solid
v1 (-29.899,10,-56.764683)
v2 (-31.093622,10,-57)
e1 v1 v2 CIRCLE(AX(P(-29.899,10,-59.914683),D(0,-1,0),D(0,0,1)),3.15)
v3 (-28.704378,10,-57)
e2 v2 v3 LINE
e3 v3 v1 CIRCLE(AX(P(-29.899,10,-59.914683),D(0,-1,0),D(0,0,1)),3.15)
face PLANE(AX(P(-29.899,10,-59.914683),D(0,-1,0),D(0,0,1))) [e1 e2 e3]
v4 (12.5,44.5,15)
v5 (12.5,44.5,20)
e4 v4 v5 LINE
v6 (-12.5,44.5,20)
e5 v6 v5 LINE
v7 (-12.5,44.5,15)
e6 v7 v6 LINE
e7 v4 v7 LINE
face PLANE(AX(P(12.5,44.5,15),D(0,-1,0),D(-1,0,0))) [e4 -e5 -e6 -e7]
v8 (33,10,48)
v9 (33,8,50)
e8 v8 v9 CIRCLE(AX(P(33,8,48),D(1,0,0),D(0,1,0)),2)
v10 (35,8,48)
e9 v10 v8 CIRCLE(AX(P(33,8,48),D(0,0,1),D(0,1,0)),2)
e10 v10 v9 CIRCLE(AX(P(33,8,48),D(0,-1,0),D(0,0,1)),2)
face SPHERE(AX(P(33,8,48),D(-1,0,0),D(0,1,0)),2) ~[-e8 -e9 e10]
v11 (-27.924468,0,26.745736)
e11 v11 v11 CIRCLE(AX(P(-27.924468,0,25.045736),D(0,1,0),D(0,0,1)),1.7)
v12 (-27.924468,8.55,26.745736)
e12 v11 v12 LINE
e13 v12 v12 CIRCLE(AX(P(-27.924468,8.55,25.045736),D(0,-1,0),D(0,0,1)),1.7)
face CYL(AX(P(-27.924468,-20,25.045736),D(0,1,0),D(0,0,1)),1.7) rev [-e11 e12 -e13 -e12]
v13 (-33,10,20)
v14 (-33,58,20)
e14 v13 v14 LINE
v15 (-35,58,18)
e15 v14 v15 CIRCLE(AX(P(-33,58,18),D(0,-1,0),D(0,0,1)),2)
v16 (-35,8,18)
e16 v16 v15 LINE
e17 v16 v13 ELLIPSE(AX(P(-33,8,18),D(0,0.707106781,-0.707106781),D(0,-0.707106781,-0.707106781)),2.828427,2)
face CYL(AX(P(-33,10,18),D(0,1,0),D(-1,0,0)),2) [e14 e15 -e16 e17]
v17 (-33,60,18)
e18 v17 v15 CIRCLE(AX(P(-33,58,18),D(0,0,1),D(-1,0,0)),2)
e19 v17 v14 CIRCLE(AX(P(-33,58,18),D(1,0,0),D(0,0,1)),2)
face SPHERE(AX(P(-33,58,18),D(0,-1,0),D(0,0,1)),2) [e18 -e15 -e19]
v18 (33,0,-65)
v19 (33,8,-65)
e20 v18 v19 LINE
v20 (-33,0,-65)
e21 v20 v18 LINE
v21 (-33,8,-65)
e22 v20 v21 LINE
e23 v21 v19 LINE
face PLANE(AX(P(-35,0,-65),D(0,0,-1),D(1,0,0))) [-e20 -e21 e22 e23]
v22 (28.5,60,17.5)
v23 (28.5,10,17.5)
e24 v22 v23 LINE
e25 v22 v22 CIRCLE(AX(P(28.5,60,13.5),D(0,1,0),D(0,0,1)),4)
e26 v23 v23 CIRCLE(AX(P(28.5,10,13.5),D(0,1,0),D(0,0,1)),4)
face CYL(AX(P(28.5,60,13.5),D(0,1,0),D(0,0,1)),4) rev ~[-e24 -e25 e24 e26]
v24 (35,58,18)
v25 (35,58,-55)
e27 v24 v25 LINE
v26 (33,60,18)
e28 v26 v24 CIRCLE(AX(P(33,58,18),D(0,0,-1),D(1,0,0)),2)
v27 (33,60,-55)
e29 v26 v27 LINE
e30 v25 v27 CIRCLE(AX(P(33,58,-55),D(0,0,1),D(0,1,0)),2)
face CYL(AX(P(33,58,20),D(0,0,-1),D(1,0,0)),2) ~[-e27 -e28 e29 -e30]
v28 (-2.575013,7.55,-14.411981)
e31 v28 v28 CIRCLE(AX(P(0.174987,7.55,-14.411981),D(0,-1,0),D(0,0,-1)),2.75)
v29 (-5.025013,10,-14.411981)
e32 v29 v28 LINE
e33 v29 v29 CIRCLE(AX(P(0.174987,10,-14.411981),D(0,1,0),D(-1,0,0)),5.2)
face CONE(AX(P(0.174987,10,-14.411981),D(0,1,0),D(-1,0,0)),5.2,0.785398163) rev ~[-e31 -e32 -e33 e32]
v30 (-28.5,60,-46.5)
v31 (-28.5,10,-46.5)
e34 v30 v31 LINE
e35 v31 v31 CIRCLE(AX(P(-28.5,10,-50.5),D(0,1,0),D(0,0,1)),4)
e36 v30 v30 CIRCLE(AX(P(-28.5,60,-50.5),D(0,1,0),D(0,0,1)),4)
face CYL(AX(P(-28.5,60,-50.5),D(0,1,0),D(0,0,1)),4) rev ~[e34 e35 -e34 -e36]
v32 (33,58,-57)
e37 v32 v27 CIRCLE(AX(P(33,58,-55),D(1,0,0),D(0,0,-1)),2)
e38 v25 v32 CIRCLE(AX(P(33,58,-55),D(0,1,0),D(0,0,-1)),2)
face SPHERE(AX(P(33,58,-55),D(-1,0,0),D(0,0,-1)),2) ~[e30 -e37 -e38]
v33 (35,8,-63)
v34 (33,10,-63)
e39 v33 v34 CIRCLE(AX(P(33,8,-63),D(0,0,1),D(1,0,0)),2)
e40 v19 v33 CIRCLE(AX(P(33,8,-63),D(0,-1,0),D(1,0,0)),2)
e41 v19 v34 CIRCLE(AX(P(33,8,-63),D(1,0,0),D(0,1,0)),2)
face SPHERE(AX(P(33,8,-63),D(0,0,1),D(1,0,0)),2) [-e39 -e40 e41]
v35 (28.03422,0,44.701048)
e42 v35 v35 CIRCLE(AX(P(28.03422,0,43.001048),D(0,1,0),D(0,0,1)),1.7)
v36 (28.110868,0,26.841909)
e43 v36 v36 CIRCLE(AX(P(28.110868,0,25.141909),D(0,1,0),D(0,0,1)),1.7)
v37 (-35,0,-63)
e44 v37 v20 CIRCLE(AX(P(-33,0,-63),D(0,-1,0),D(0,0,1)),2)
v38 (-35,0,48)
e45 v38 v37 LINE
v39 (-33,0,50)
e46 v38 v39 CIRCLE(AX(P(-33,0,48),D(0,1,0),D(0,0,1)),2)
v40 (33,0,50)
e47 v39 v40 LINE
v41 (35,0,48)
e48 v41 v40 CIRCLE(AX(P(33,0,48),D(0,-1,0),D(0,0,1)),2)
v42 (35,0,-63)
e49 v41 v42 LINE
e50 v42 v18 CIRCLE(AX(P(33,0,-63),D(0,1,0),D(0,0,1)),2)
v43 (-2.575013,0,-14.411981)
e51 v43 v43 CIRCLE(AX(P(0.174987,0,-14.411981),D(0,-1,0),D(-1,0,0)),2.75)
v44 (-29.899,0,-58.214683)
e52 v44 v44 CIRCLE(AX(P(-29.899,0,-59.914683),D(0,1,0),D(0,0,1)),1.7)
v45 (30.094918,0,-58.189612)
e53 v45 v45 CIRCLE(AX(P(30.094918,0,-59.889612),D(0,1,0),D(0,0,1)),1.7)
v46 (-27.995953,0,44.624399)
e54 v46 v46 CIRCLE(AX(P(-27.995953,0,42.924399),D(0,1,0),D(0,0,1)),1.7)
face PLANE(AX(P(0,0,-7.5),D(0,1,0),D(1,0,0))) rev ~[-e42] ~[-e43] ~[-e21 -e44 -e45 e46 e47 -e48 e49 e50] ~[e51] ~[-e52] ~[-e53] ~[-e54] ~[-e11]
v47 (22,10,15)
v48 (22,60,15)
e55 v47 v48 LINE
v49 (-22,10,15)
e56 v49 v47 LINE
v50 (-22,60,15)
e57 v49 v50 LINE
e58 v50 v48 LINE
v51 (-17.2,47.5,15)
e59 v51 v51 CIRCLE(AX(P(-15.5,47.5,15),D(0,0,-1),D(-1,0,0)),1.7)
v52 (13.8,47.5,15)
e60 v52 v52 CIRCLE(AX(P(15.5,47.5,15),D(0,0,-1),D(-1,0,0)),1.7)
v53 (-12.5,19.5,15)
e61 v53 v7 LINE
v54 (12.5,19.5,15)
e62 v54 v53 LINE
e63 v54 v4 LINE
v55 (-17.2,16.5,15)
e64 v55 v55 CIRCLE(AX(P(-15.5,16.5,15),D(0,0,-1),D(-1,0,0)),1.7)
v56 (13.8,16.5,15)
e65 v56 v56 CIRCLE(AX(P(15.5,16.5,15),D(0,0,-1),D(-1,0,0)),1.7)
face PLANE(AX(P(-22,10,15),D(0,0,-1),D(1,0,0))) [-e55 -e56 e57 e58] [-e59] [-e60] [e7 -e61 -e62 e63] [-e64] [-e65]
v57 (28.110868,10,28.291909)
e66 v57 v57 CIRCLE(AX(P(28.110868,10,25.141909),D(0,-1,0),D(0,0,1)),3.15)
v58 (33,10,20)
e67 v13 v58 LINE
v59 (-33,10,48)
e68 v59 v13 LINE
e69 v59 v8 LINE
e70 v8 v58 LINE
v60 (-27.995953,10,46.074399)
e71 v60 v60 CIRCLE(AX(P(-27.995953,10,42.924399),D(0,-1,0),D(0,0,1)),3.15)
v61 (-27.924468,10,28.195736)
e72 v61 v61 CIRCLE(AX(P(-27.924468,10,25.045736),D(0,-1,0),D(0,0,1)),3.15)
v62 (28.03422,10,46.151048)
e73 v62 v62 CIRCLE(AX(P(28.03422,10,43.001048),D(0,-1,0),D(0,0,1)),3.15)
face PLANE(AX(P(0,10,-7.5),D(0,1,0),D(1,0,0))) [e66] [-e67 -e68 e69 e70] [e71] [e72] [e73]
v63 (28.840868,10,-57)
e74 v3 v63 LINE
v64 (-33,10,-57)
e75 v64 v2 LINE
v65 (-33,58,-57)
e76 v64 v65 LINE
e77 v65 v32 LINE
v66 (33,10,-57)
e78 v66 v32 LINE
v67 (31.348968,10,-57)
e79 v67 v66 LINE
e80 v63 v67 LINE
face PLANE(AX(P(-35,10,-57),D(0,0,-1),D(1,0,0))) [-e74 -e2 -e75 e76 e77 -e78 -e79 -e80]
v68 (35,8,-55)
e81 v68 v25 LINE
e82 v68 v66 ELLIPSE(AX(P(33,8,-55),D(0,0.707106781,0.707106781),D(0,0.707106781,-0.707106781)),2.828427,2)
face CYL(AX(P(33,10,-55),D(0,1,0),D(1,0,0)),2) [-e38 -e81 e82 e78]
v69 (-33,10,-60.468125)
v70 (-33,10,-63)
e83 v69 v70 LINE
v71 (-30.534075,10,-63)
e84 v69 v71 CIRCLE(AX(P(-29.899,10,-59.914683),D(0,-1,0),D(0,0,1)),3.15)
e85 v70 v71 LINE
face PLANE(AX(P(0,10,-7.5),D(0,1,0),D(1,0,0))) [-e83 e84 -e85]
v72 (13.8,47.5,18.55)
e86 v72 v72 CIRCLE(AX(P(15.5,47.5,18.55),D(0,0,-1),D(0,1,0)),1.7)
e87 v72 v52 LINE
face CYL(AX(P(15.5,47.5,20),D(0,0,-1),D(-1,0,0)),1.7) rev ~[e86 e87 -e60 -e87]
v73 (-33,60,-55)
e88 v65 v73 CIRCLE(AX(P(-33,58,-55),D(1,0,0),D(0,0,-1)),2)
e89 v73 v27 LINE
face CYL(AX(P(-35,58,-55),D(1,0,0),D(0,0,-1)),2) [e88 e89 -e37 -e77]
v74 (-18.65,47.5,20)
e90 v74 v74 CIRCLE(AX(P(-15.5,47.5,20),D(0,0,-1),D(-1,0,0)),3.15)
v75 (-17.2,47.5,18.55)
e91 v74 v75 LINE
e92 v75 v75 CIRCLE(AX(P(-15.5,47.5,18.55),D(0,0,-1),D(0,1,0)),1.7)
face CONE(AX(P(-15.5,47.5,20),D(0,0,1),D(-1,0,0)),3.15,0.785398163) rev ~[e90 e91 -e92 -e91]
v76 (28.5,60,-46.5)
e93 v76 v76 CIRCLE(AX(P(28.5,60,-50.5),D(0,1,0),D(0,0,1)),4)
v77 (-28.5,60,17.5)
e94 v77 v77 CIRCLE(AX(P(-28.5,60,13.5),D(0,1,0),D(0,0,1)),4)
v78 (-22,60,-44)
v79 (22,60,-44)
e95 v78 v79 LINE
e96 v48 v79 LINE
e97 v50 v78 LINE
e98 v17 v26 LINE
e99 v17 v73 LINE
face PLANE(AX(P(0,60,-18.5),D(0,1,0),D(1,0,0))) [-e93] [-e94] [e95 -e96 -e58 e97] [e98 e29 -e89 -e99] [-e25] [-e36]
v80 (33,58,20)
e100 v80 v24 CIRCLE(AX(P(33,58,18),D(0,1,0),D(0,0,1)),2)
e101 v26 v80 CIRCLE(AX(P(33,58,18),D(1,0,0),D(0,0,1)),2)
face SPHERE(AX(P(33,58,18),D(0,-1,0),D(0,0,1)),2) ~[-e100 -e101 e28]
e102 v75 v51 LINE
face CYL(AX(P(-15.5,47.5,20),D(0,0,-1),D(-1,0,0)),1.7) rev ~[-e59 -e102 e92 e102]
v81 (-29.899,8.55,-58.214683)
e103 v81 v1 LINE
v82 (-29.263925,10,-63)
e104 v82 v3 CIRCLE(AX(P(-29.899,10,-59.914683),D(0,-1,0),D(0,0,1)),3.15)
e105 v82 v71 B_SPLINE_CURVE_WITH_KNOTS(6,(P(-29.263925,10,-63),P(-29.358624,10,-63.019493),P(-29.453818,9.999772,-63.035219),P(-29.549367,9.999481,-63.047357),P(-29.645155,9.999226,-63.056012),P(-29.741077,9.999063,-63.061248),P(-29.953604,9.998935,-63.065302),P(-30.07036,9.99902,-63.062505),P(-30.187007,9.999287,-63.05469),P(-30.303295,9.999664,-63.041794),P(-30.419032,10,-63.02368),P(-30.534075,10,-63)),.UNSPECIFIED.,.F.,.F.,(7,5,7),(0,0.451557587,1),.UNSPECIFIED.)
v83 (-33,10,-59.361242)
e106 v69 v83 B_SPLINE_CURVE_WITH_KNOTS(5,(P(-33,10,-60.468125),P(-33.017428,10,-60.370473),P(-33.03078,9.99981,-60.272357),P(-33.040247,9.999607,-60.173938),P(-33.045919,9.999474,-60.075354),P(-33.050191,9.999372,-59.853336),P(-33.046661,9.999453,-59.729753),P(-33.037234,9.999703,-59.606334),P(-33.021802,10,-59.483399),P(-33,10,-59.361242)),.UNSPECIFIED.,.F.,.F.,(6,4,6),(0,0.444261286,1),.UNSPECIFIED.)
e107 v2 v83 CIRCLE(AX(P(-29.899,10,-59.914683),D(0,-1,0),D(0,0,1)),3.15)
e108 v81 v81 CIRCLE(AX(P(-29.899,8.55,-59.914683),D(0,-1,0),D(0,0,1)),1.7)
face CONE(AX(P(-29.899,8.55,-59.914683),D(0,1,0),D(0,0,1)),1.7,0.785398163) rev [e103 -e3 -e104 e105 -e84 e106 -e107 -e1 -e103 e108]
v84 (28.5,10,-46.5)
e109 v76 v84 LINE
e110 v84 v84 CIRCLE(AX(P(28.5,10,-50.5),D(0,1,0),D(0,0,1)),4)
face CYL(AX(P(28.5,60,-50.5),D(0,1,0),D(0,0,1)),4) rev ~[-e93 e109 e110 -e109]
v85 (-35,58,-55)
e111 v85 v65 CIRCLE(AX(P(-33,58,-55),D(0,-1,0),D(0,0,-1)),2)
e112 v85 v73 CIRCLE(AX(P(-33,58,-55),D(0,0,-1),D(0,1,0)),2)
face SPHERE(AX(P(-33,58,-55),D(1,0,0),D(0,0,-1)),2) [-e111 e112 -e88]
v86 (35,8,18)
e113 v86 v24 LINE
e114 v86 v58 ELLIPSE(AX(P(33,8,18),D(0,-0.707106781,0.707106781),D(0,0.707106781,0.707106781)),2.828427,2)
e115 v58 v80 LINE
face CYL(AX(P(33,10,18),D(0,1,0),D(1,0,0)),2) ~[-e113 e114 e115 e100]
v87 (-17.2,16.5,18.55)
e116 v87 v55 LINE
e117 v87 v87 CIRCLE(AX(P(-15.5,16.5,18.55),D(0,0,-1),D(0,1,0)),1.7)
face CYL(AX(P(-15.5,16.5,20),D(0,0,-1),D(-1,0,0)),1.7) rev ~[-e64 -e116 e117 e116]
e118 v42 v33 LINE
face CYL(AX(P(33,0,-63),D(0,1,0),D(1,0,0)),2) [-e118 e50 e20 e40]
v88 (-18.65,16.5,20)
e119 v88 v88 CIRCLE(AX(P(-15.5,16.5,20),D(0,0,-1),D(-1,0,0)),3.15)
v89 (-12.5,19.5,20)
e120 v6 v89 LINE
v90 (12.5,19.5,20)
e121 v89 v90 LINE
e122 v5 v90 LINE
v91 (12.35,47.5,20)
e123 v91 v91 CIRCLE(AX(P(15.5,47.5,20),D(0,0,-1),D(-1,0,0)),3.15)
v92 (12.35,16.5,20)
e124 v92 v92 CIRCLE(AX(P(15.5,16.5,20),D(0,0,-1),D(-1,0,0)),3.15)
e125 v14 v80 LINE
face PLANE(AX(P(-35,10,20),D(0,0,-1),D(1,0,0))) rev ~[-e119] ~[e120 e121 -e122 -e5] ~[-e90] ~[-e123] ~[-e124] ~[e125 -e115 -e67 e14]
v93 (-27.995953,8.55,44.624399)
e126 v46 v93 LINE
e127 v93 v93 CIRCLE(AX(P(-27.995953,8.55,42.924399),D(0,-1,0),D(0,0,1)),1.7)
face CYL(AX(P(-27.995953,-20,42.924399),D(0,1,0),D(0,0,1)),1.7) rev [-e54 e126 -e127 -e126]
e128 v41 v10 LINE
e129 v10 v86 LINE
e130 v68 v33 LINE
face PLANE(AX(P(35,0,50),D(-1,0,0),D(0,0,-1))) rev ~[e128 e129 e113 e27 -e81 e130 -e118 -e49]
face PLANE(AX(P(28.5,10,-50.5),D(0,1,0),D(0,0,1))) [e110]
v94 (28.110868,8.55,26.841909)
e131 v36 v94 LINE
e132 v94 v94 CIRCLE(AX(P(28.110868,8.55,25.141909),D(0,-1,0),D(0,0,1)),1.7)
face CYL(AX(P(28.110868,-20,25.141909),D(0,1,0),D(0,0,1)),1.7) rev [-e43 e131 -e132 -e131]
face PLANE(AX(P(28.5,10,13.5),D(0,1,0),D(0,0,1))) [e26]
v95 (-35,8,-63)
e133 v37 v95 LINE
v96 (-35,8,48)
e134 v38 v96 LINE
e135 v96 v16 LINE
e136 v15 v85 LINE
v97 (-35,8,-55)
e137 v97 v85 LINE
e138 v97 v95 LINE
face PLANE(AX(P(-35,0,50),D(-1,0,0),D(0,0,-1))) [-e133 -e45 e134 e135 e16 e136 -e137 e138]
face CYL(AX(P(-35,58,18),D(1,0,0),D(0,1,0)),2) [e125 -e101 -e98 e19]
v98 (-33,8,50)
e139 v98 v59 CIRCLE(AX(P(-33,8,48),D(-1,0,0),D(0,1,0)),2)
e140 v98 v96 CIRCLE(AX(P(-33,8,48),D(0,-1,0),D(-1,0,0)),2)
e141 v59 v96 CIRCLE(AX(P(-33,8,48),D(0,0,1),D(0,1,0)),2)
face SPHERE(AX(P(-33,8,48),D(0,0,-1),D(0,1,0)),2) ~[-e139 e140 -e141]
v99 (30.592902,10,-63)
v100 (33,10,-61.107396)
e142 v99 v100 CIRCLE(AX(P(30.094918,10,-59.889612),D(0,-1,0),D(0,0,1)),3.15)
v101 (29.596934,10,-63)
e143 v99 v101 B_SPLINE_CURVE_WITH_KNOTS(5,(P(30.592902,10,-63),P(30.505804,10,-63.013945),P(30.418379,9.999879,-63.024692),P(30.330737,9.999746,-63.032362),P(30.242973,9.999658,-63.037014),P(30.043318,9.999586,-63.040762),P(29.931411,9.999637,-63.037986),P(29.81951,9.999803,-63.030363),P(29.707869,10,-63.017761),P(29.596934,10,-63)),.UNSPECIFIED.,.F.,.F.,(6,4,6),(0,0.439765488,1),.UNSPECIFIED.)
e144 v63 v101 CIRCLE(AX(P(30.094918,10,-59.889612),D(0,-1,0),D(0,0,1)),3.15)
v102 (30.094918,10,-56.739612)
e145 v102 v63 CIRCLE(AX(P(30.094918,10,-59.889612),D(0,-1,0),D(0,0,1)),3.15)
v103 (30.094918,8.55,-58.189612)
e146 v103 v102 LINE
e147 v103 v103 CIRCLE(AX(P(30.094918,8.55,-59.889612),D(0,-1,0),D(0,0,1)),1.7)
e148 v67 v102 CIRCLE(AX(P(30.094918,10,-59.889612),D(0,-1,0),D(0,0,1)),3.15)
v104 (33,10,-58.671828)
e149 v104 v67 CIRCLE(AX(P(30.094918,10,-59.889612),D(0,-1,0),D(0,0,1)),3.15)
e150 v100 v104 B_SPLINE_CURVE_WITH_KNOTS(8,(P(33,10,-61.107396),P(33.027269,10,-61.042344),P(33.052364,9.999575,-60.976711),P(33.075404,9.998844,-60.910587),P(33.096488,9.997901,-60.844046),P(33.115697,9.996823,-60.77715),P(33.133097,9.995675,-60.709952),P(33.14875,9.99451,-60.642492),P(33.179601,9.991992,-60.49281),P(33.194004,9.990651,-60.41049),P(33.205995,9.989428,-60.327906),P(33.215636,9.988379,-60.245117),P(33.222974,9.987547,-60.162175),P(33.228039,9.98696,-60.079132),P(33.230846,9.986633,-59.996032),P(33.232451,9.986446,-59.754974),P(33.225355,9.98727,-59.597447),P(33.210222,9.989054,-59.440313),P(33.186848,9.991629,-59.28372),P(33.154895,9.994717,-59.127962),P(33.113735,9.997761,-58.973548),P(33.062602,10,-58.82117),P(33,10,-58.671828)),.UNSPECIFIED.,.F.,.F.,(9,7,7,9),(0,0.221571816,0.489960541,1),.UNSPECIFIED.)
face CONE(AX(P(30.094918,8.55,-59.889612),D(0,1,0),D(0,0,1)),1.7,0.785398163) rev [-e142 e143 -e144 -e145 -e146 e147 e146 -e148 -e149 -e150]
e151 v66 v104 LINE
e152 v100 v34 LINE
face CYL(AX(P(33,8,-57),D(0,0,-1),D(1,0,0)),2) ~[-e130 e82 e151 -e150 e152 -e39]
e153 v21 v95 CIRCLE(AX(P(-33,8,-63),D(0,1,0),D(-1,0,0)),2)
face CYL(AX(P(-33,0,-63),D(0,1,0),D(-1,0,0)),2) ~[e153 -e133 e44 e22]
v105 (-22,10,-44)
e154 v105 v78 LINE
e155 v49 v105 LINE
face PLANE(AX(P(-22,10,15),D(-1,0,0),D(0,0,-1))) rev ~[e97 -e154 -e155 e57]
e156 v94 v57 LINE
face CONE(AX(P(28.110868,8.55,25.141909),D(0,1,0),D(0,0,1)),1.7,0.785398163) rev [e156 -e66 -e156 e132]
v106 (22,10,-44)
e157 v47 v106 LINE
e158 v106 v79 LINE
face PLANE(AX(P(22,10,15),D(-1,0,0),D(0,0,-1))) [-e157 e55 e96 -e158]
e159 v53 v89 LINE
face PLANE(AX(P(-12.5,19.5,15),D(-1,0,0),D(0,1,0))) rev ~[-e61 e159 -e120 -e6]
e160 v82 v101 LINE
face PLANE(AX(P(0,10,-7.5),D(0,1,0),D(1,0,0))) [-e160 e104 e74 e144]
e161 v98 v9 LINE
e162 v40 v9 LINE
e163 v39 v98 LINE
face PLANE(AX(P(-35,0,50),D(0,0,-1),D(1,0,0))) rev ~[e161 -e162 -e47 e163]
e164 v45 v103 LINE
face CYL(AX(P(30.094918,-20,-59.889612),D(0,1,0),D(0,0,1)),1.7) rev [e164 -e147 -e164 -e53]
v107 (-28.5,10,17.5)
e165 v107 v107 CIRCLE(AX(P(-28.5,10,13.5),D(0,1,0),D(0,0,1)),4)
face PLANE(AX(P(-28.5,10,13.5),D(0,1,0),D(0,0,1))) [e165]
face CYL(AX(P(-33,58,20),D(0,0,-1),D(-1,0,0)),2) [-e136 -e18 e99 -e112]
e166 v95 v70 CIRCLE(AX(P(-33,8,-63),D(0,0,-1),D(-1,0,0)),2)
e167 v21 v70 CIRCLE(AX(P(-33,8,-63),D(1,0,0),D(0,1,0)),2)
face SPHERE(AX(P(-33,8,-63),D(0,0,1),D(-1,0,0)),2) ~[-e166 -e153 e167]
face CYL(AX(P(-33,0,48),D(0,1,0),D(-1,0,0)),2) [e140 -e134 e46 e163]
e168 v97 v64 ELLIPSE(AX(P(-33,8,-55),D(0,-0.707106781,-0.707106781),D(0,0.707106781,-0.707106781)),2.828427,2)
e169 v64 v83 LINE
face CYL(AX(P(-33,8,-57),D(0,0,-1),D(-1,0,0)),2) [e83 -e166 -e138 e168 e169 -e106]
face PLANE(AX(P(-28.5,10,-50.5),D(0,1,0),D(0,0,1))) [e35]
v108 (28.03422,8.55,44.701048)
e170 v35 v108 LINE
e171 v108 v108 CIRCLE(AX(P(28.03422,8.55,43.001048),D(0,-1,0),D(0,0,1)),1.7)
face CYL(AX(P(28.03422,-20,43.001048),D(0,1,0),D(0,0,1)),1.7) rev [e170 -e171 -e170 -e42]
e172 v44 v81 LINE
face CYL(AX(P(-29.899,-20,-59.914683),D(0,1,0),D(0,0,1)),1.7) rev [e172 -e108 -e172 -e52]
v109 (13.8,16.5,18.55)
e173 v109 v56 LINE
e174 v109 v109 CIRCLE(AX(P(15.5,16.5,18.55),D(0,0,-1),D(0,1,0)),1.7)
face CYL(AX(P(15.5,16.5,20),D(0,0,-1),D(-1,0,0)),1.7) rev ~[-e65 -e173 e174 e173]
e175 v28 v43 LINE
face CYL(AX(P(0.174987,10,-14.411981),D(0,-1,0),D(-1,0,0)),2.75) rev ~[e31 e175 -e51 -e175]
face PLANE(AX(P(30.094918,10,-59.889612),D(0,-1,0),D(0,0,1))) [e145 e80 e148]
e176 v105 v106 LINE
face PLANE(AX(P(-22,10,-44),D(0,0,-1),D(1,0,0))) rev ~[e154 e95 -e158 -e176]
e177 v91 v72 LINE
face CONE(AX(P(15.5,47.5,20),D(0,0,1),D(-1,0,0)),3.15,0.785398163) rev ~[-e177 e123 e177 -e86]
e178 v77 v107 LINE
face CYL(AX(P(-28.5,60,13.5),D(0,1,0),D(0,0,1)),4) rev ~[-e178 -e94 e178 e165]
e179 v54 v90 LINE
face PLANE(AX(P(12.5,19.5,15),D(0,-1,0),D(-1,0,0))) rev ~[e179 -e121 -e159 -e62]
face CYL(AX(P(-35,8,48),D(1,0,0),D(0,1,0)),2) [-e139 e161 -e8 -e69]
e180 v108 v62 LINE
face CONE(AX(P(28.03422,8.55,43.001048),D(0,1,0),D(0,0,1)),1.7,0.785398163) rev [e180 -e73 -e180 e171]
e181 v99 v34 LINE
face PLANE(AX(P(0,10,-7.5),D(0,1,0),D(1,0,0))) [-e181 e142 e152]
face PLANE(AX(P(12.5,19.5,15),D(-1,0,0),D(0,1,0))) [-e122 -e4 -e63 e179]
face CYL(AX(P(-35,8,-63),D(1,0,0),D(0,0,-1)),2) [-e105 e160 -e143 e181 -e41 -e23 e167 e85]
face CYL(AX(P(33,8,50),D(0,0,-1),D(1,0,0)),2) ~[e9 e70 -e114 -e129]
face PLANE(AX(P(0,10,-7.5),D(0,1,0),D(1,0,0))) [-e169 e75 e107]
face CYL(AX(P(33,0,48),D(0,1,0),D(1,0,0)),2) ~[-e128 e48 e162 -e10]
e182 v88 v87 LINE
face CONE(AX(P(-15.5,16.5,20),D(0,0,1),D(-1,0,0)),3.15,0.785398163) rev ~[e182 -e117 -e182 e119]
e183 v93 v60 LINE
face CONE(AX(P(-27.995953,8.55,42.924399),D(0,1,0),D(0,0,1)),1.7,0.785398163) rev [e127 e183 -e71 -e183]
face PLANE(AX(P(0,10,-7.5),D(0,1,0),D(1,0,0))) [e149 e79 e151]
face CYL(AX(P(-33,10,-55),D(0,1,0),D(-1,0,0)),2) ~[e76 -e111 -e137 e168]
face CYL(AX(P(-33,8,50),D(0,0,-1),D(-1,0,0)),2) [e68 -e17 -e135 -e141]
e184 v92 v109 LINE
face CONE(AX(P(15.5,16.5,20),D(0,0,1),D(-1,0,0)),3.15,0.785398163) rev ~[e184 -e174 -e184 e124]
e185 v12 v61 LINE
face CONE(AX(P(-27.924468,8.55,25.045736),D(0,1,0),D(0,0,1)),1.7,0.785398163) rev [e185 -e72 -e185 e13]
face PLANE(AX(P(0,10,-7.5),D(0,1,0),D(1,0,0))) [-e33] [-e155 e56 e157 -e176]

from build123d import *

# Parameters (mm, degrees)
SKETCH2_W                                           = 70
SKETCH2_H                                           = 115
BOSS_EXTRUDE1_DEPTH                                 = 10
SKETCH8_W                                           = 70
SKETCH8_H                                           = 77
SKETCH8_W_2                                         = 44
SKETCH8_H_2                                         = 59
BOSS_EXTRUDE5_DEPTH                                 = 50
SKETCH9_R                                           = 4
CUT_EXTRUDE1_DEPTH                                  = 50
CUT_EXTRUDE2_REACH                                  = 107.948
SKETCH10_W                                          = 25
SKETCH10_H                                          = 25
CSK_FOR_M3_COUNTERSUNK_FLAT_HEAD_SCREW1_D           = 3.4
CSK_FOR_M3_COUNTERSUNK_FLAT_HEAD_SCREW1_DEPTH       = 5
CSK_FOR_M3_COUNTERSUNK_FLAT_HEAD_SCREW1_CSINK_D     = 6.3
CSK_FOR_M3_COUNTERSUNK_FLAT_HEAD_SCREW1_CSINK_ANGLE = 90
FILLET1_R                                           = 2
CSK_FOR_M3_COUNTERSUNK_FLAT_HEAD_SCR_2_COUNT        = 2
CSK_FOR_M3_COUNTERSUNK_FLAT_HEAD_SCR_2_PITCH        = 59.993922781
CSK_FOR_M3_COUNTERSUNK_FLAT_HEAD_SCR_3_COUNT        = 2
CSK_FOR_M3_COUNTERSUNK_FLAT_HEAD_SCR_3_PITCH        = 84.983361201
CSK_FOR_M3_COUNTERSUNK_FLAT_HEAD_SCR_4_COUNT        = 2
CSK_FOR_M3_COUNTERSUNK_FLAT_HEAD_SCR_4_PITCH        = 102.955177918
CSK_FOR_M3_COUNTERSUNK_FLAT_HEAD_SCR_5_COUNT        = 2
CSK_FOR_M3_COUNTERSUNK_FLAT_HEAD_SCR_5_PITCH        = 118.101251225
CSK_FOR_M3_COUNTERSUNK_FLAT_HEAD_SCR_6_COUNT        = 2
CSK_FOR_M3_COUNTERSUNK_FLAT_HEAD_SCR_6_PITCH        = 102.856688561
CSK_FOR_M5_COUNTERSUNK_FLAT_HEAD_SCREW2_D           = 5.5
CSK_FOR_M5_COUNTERSUNK_FLAT_HEAD_SCREW2_DEPTH       = 30
CSK_FOR_M5_COUNTERSUNK_FLAT_HEAD_SCREW2_CSINK_D     = 10.4
CSK_FOR_M5_COUNTERSUNK_FLAT_HEAD_SCREW2_CSINK_ANGLE = 90
CSK_FOR_M5_COUNTERSUNK_FLAT_HEAD_SCREW2_TIP         = 1.652366702


with BuildPart() as part:
    # Sketch2 → Boss-Extrude1 (new body)
    with BuildSketch(Plane(origin=(0, 0, 0), x_dir=(1, 0, 0), z_dir=(0, 1, 0))):
        with Locations((0, 7.5)):
            Rectangle(SKETCH2_W, SKETCH2_H)
    extrude(amount=BOSS_EXTRUDE1_DEPTH)

    # Sketch8 → Boss-Extrude5 (add)
    with BuildSketch(Plane(origin=(0, 10, 0), x_dir=(1, 0, 0), z_dir=(0, 1, 0))):
        with Locations((0, 18.5)):
            Rectangle(SKETCH8_W, SKETCH8_H)
        with Locations((0, 14.5)):
            Rectangle(SKETCH8_W_2, SKETCH8_H_2, mode=Mode.SUBTRACT)
    extrude(amount=BOSS_EXTRUDE5_DEPTH)

    # Sketch9 → Cut-Extrude1 (cut)
    with BuildSketch(Plane(origin=(0, 60, 0), x_dir=(1, 0, 0), z_dir=(0, 1, 0))):
        with Locations(Location((-28.5, 50.5, 0), (0, 0, 270))):
            Circle(SKETCH9_R)
        with Locations(Location((28.5, 50.5, 0), (0, 0, 270))):
            Circle(SKETCH9_R)
        with Locations(Location((28.5, -13.5, 0), (0, 0, 270))):
            Circle(SKETCH9_R)
        with Locations(Location((-28.5, -13.5, 0), (0, 0, 270))):
            Circle(SKETCH9_R)
    extrude(amount=-CUT_EXTRUDE1_DEPTH, mode=Mode.SUBTRACT)

    # Sketch10 → Cut-Extrude2 (cut, up to next)
    with BuildSketch(Plane(origin=(0, 0, 15), x_dir=(-1, 0, 0), z_dir=(0, 0, -1)), mode=Mode.PRIVATE) as cut_extrude2_sk1:
        with Locations((0, 32)):
            Rectangle(SKETCH10_W, SKETCH10_H)
    cut_extrude2_tool1 = extrude(cut_extrude2_sk1.sketch, amount=-CUT_EXTRUDE2_REACH, mode=Mode.PRIVATE) & part.part
    add(cut_extrude2_tool1.solids().sort_by_distance((0, 32, 15))[0], mode=Mode.SUBTRACT)

    # CSK for M3 Countersunk Flat Head Screw1
    with Locations(Plane.XY.offset(20)):
        with Locations((-15.5, 47.5), (15.5, 47.5), (15.5, 16.5), (-15.5, 16.5)):
            CounterSinkHole(CSK_FOR_M3_COUNTERSUNK_FLAT_HEAD_SCREW1_D / 2, CSK_FOR_M3_COUNTERSUNK_FLAT_HEAD_SCREW1_CSINK_D / 2, depth=CSK_FOR_M3_COUNTERSUNK_FLAT_HEAD_SCREW1_DEPTH, counter_sink_angle=CSK_FOR_M3_COUNTERSUNK_FLAT_HEAD_SCREW1_CSINK_ANGLE)

    # Fillet1
    fillet1_edges = [part.edges().sort_by_distance(p)[0] for p in [
        (-35, 10, -61),
        (35, 10, -61),
        (-35, 10, 35),
        (0, 10, 50),
        (-35, 35, 20),
        (35, 35, 20),
        (0, 60, -57),
        (35, 35, -57),
        (-35, 35, -57),
        (0, 60, 20),
        (35, 60, -18.5),
        (-35, 60, -18.5),
        (35, 10, 35),
        (35, 5, 50),
        (-35, 5, 50),
        (-35, 5, -65),
        (35, 5, -65),
        (0, 10, -65),
    ]]
    fillet(fillet1_edges, radius=FILLET1_R)

    # Sketch18 → CSK for M3 Countersunk Flat Head Screw2 (revolve, cut)
    with BuildSketch(Plane(origin=(-29.898999739, 10, -59.914683203), x_dir=(0, 0, 1), z_dir=(1, 0, 0))):
        Polygon((0, 0), (0, 31.021463052), (1.7, 30), (1.7, 1.45), (3.15, 0), align=None)
    csk_for_m3_countersunk_flat_head_screw2 = revolve(axis=Axis((-29.898999739, 16.35, -59.914683203), (0, -1, 0)), mode=Mode.SUBTRACT)

    # CSK for M3 Countersunk Flat Head Scr 2: CSK for M3 Countersunk Flat Head Screw2 ×2
    with Locations(*[Vector(0.999999912683058, 0, 0.00041789218284246394) * (i * CSK_FOR_M3_COUNTERSUNK_FLAT_HEAD_SCR_2_PITCH) for i in range(1, CSK_FOR_M3_COUNTERSUNK_FLAT_HEAD_SCR_2_COUNT)]):
        add(csk_for_m3_countersunk_flat_head_screw2, mode=Mode.SUBTRACT)

    # CSK for M3 Countersunk Flat Head Scr 3: CSK for M3 Countersunk Flat Head Screw2 ×2
    with Locations(*[Vector(0.023234335515626516, 0, 0.9997300463890977) * (i * CSK_FOR_M3_COUNTERSUNK_FLAT_HEAD_SCR_3_PITCH) for i in range(1, CSK_FOR_M3_COUNTERSUNK_FLAT_HEAD_SCR_3_COUNT)]):
        add(csk_for_m3_countersunk_flat_head_screw2, mode=Mode.SUBTRACT)

    # CSK for M3 Countersunk Flat Head Scr 4: CSK for M3 Countersunk Flat Head Screw2 ×2
    with Locations(*[Vector(0.5634477960813598, 0, 0.8261516695444358) * (i * CSK_FOR_M3_COUNTERSUNK_FLAT_HEAD_SCR_4_PITCH) for i in range(1, CSK_FOR_M3_COUNTERSUNK_FLAT_HEAD_SCR_4_COUNT)]):
        add(csk_for_m3_countersunk_flat_head_screw2, mode=Mode.SUBTRACT)

    # CSK for M3 Countersunk Flat Head Scr 5: CSK for M3 Countersunk Flat Head Screw2 ×2
    with Locations(*[Vector(0.4905385745621895, 0, 0.8714194781312243) * (i * CSK_FOR_M3_COUNTERSUNK_FLAT_HEAD_SCR_5_PITCH) for i in range(1, CSK_FOR_M3_COUNTERSUNK_FLAT_HEAD_SCR_5_COUNT)]):
        add(csk_for_m3_countersunk_flat_head_screw2, mode=Mode.SUBTRACT)

    # CSK for M3 Countersunk Flat Head Scr 6: CSK for M3 Countersunk Flat Head Screw2 ×2
    with Locations(*[Vector(0.01850192219633628, 0, 0.9998288247870436) * (i * CSK_FOR_M3_COUNTERSUNK_FLAT_HEAD_SCR_6_PITCH) for i in range(1, CSK_FOR_M3_COUNTERSUNK_FLAT_HEAD_SCR_6_COUNT)]):
        add(csk_for_m3_countersunk_flat_head_screw2, mode=Mode.SUBTRACT)

    # CSK for M5 Countersunk Flat Head Screw2
    with Locations(Plane(origin=(0, 10, 0), x_dir=(1, 0, 0), z_dir=(0, 1, 0))):
        with Locations((0.174986864, 14.411981132)):
            CounterSinkHole(CSK_FOR_M5_COUNTERSUNK_FLAT_HEAD_SCREW2_D / 2, CSK_FOR_M5_COUNTERSUNK_FLAT_HEAD_SCREW2_CSINK_D / 2, depth=CSK_FOR_M5_COUNTERSUNK_FLAT_HEAD_SCREW2_DEPTH, counter_sink_angle=CSK_FOR_M5_COUNTERSUNK_FLAT_HEAD_SCREW2_CSINK_ANGLE)
            with Locations((0, 0, -(CSK_FOR_M5_COUNTERSUNK_FLAT_HEAD_SCREW2_DEPTH + CSK_FOR_M5_COUNTERSUNK_FLAT_HEAD_SCREW2_TIP / 2))):  # 118° drill point
                Cone(0, CSK_FOR_M5_COUNTERSUNK_FLAT_HEAD_SCREW2_D / 2, CSK_FOR_M5_COUNTERSUNK_FLAT_HEAD_SCREW2_TIP, mode=Mode.SUBTRACT)


solid = part.part
